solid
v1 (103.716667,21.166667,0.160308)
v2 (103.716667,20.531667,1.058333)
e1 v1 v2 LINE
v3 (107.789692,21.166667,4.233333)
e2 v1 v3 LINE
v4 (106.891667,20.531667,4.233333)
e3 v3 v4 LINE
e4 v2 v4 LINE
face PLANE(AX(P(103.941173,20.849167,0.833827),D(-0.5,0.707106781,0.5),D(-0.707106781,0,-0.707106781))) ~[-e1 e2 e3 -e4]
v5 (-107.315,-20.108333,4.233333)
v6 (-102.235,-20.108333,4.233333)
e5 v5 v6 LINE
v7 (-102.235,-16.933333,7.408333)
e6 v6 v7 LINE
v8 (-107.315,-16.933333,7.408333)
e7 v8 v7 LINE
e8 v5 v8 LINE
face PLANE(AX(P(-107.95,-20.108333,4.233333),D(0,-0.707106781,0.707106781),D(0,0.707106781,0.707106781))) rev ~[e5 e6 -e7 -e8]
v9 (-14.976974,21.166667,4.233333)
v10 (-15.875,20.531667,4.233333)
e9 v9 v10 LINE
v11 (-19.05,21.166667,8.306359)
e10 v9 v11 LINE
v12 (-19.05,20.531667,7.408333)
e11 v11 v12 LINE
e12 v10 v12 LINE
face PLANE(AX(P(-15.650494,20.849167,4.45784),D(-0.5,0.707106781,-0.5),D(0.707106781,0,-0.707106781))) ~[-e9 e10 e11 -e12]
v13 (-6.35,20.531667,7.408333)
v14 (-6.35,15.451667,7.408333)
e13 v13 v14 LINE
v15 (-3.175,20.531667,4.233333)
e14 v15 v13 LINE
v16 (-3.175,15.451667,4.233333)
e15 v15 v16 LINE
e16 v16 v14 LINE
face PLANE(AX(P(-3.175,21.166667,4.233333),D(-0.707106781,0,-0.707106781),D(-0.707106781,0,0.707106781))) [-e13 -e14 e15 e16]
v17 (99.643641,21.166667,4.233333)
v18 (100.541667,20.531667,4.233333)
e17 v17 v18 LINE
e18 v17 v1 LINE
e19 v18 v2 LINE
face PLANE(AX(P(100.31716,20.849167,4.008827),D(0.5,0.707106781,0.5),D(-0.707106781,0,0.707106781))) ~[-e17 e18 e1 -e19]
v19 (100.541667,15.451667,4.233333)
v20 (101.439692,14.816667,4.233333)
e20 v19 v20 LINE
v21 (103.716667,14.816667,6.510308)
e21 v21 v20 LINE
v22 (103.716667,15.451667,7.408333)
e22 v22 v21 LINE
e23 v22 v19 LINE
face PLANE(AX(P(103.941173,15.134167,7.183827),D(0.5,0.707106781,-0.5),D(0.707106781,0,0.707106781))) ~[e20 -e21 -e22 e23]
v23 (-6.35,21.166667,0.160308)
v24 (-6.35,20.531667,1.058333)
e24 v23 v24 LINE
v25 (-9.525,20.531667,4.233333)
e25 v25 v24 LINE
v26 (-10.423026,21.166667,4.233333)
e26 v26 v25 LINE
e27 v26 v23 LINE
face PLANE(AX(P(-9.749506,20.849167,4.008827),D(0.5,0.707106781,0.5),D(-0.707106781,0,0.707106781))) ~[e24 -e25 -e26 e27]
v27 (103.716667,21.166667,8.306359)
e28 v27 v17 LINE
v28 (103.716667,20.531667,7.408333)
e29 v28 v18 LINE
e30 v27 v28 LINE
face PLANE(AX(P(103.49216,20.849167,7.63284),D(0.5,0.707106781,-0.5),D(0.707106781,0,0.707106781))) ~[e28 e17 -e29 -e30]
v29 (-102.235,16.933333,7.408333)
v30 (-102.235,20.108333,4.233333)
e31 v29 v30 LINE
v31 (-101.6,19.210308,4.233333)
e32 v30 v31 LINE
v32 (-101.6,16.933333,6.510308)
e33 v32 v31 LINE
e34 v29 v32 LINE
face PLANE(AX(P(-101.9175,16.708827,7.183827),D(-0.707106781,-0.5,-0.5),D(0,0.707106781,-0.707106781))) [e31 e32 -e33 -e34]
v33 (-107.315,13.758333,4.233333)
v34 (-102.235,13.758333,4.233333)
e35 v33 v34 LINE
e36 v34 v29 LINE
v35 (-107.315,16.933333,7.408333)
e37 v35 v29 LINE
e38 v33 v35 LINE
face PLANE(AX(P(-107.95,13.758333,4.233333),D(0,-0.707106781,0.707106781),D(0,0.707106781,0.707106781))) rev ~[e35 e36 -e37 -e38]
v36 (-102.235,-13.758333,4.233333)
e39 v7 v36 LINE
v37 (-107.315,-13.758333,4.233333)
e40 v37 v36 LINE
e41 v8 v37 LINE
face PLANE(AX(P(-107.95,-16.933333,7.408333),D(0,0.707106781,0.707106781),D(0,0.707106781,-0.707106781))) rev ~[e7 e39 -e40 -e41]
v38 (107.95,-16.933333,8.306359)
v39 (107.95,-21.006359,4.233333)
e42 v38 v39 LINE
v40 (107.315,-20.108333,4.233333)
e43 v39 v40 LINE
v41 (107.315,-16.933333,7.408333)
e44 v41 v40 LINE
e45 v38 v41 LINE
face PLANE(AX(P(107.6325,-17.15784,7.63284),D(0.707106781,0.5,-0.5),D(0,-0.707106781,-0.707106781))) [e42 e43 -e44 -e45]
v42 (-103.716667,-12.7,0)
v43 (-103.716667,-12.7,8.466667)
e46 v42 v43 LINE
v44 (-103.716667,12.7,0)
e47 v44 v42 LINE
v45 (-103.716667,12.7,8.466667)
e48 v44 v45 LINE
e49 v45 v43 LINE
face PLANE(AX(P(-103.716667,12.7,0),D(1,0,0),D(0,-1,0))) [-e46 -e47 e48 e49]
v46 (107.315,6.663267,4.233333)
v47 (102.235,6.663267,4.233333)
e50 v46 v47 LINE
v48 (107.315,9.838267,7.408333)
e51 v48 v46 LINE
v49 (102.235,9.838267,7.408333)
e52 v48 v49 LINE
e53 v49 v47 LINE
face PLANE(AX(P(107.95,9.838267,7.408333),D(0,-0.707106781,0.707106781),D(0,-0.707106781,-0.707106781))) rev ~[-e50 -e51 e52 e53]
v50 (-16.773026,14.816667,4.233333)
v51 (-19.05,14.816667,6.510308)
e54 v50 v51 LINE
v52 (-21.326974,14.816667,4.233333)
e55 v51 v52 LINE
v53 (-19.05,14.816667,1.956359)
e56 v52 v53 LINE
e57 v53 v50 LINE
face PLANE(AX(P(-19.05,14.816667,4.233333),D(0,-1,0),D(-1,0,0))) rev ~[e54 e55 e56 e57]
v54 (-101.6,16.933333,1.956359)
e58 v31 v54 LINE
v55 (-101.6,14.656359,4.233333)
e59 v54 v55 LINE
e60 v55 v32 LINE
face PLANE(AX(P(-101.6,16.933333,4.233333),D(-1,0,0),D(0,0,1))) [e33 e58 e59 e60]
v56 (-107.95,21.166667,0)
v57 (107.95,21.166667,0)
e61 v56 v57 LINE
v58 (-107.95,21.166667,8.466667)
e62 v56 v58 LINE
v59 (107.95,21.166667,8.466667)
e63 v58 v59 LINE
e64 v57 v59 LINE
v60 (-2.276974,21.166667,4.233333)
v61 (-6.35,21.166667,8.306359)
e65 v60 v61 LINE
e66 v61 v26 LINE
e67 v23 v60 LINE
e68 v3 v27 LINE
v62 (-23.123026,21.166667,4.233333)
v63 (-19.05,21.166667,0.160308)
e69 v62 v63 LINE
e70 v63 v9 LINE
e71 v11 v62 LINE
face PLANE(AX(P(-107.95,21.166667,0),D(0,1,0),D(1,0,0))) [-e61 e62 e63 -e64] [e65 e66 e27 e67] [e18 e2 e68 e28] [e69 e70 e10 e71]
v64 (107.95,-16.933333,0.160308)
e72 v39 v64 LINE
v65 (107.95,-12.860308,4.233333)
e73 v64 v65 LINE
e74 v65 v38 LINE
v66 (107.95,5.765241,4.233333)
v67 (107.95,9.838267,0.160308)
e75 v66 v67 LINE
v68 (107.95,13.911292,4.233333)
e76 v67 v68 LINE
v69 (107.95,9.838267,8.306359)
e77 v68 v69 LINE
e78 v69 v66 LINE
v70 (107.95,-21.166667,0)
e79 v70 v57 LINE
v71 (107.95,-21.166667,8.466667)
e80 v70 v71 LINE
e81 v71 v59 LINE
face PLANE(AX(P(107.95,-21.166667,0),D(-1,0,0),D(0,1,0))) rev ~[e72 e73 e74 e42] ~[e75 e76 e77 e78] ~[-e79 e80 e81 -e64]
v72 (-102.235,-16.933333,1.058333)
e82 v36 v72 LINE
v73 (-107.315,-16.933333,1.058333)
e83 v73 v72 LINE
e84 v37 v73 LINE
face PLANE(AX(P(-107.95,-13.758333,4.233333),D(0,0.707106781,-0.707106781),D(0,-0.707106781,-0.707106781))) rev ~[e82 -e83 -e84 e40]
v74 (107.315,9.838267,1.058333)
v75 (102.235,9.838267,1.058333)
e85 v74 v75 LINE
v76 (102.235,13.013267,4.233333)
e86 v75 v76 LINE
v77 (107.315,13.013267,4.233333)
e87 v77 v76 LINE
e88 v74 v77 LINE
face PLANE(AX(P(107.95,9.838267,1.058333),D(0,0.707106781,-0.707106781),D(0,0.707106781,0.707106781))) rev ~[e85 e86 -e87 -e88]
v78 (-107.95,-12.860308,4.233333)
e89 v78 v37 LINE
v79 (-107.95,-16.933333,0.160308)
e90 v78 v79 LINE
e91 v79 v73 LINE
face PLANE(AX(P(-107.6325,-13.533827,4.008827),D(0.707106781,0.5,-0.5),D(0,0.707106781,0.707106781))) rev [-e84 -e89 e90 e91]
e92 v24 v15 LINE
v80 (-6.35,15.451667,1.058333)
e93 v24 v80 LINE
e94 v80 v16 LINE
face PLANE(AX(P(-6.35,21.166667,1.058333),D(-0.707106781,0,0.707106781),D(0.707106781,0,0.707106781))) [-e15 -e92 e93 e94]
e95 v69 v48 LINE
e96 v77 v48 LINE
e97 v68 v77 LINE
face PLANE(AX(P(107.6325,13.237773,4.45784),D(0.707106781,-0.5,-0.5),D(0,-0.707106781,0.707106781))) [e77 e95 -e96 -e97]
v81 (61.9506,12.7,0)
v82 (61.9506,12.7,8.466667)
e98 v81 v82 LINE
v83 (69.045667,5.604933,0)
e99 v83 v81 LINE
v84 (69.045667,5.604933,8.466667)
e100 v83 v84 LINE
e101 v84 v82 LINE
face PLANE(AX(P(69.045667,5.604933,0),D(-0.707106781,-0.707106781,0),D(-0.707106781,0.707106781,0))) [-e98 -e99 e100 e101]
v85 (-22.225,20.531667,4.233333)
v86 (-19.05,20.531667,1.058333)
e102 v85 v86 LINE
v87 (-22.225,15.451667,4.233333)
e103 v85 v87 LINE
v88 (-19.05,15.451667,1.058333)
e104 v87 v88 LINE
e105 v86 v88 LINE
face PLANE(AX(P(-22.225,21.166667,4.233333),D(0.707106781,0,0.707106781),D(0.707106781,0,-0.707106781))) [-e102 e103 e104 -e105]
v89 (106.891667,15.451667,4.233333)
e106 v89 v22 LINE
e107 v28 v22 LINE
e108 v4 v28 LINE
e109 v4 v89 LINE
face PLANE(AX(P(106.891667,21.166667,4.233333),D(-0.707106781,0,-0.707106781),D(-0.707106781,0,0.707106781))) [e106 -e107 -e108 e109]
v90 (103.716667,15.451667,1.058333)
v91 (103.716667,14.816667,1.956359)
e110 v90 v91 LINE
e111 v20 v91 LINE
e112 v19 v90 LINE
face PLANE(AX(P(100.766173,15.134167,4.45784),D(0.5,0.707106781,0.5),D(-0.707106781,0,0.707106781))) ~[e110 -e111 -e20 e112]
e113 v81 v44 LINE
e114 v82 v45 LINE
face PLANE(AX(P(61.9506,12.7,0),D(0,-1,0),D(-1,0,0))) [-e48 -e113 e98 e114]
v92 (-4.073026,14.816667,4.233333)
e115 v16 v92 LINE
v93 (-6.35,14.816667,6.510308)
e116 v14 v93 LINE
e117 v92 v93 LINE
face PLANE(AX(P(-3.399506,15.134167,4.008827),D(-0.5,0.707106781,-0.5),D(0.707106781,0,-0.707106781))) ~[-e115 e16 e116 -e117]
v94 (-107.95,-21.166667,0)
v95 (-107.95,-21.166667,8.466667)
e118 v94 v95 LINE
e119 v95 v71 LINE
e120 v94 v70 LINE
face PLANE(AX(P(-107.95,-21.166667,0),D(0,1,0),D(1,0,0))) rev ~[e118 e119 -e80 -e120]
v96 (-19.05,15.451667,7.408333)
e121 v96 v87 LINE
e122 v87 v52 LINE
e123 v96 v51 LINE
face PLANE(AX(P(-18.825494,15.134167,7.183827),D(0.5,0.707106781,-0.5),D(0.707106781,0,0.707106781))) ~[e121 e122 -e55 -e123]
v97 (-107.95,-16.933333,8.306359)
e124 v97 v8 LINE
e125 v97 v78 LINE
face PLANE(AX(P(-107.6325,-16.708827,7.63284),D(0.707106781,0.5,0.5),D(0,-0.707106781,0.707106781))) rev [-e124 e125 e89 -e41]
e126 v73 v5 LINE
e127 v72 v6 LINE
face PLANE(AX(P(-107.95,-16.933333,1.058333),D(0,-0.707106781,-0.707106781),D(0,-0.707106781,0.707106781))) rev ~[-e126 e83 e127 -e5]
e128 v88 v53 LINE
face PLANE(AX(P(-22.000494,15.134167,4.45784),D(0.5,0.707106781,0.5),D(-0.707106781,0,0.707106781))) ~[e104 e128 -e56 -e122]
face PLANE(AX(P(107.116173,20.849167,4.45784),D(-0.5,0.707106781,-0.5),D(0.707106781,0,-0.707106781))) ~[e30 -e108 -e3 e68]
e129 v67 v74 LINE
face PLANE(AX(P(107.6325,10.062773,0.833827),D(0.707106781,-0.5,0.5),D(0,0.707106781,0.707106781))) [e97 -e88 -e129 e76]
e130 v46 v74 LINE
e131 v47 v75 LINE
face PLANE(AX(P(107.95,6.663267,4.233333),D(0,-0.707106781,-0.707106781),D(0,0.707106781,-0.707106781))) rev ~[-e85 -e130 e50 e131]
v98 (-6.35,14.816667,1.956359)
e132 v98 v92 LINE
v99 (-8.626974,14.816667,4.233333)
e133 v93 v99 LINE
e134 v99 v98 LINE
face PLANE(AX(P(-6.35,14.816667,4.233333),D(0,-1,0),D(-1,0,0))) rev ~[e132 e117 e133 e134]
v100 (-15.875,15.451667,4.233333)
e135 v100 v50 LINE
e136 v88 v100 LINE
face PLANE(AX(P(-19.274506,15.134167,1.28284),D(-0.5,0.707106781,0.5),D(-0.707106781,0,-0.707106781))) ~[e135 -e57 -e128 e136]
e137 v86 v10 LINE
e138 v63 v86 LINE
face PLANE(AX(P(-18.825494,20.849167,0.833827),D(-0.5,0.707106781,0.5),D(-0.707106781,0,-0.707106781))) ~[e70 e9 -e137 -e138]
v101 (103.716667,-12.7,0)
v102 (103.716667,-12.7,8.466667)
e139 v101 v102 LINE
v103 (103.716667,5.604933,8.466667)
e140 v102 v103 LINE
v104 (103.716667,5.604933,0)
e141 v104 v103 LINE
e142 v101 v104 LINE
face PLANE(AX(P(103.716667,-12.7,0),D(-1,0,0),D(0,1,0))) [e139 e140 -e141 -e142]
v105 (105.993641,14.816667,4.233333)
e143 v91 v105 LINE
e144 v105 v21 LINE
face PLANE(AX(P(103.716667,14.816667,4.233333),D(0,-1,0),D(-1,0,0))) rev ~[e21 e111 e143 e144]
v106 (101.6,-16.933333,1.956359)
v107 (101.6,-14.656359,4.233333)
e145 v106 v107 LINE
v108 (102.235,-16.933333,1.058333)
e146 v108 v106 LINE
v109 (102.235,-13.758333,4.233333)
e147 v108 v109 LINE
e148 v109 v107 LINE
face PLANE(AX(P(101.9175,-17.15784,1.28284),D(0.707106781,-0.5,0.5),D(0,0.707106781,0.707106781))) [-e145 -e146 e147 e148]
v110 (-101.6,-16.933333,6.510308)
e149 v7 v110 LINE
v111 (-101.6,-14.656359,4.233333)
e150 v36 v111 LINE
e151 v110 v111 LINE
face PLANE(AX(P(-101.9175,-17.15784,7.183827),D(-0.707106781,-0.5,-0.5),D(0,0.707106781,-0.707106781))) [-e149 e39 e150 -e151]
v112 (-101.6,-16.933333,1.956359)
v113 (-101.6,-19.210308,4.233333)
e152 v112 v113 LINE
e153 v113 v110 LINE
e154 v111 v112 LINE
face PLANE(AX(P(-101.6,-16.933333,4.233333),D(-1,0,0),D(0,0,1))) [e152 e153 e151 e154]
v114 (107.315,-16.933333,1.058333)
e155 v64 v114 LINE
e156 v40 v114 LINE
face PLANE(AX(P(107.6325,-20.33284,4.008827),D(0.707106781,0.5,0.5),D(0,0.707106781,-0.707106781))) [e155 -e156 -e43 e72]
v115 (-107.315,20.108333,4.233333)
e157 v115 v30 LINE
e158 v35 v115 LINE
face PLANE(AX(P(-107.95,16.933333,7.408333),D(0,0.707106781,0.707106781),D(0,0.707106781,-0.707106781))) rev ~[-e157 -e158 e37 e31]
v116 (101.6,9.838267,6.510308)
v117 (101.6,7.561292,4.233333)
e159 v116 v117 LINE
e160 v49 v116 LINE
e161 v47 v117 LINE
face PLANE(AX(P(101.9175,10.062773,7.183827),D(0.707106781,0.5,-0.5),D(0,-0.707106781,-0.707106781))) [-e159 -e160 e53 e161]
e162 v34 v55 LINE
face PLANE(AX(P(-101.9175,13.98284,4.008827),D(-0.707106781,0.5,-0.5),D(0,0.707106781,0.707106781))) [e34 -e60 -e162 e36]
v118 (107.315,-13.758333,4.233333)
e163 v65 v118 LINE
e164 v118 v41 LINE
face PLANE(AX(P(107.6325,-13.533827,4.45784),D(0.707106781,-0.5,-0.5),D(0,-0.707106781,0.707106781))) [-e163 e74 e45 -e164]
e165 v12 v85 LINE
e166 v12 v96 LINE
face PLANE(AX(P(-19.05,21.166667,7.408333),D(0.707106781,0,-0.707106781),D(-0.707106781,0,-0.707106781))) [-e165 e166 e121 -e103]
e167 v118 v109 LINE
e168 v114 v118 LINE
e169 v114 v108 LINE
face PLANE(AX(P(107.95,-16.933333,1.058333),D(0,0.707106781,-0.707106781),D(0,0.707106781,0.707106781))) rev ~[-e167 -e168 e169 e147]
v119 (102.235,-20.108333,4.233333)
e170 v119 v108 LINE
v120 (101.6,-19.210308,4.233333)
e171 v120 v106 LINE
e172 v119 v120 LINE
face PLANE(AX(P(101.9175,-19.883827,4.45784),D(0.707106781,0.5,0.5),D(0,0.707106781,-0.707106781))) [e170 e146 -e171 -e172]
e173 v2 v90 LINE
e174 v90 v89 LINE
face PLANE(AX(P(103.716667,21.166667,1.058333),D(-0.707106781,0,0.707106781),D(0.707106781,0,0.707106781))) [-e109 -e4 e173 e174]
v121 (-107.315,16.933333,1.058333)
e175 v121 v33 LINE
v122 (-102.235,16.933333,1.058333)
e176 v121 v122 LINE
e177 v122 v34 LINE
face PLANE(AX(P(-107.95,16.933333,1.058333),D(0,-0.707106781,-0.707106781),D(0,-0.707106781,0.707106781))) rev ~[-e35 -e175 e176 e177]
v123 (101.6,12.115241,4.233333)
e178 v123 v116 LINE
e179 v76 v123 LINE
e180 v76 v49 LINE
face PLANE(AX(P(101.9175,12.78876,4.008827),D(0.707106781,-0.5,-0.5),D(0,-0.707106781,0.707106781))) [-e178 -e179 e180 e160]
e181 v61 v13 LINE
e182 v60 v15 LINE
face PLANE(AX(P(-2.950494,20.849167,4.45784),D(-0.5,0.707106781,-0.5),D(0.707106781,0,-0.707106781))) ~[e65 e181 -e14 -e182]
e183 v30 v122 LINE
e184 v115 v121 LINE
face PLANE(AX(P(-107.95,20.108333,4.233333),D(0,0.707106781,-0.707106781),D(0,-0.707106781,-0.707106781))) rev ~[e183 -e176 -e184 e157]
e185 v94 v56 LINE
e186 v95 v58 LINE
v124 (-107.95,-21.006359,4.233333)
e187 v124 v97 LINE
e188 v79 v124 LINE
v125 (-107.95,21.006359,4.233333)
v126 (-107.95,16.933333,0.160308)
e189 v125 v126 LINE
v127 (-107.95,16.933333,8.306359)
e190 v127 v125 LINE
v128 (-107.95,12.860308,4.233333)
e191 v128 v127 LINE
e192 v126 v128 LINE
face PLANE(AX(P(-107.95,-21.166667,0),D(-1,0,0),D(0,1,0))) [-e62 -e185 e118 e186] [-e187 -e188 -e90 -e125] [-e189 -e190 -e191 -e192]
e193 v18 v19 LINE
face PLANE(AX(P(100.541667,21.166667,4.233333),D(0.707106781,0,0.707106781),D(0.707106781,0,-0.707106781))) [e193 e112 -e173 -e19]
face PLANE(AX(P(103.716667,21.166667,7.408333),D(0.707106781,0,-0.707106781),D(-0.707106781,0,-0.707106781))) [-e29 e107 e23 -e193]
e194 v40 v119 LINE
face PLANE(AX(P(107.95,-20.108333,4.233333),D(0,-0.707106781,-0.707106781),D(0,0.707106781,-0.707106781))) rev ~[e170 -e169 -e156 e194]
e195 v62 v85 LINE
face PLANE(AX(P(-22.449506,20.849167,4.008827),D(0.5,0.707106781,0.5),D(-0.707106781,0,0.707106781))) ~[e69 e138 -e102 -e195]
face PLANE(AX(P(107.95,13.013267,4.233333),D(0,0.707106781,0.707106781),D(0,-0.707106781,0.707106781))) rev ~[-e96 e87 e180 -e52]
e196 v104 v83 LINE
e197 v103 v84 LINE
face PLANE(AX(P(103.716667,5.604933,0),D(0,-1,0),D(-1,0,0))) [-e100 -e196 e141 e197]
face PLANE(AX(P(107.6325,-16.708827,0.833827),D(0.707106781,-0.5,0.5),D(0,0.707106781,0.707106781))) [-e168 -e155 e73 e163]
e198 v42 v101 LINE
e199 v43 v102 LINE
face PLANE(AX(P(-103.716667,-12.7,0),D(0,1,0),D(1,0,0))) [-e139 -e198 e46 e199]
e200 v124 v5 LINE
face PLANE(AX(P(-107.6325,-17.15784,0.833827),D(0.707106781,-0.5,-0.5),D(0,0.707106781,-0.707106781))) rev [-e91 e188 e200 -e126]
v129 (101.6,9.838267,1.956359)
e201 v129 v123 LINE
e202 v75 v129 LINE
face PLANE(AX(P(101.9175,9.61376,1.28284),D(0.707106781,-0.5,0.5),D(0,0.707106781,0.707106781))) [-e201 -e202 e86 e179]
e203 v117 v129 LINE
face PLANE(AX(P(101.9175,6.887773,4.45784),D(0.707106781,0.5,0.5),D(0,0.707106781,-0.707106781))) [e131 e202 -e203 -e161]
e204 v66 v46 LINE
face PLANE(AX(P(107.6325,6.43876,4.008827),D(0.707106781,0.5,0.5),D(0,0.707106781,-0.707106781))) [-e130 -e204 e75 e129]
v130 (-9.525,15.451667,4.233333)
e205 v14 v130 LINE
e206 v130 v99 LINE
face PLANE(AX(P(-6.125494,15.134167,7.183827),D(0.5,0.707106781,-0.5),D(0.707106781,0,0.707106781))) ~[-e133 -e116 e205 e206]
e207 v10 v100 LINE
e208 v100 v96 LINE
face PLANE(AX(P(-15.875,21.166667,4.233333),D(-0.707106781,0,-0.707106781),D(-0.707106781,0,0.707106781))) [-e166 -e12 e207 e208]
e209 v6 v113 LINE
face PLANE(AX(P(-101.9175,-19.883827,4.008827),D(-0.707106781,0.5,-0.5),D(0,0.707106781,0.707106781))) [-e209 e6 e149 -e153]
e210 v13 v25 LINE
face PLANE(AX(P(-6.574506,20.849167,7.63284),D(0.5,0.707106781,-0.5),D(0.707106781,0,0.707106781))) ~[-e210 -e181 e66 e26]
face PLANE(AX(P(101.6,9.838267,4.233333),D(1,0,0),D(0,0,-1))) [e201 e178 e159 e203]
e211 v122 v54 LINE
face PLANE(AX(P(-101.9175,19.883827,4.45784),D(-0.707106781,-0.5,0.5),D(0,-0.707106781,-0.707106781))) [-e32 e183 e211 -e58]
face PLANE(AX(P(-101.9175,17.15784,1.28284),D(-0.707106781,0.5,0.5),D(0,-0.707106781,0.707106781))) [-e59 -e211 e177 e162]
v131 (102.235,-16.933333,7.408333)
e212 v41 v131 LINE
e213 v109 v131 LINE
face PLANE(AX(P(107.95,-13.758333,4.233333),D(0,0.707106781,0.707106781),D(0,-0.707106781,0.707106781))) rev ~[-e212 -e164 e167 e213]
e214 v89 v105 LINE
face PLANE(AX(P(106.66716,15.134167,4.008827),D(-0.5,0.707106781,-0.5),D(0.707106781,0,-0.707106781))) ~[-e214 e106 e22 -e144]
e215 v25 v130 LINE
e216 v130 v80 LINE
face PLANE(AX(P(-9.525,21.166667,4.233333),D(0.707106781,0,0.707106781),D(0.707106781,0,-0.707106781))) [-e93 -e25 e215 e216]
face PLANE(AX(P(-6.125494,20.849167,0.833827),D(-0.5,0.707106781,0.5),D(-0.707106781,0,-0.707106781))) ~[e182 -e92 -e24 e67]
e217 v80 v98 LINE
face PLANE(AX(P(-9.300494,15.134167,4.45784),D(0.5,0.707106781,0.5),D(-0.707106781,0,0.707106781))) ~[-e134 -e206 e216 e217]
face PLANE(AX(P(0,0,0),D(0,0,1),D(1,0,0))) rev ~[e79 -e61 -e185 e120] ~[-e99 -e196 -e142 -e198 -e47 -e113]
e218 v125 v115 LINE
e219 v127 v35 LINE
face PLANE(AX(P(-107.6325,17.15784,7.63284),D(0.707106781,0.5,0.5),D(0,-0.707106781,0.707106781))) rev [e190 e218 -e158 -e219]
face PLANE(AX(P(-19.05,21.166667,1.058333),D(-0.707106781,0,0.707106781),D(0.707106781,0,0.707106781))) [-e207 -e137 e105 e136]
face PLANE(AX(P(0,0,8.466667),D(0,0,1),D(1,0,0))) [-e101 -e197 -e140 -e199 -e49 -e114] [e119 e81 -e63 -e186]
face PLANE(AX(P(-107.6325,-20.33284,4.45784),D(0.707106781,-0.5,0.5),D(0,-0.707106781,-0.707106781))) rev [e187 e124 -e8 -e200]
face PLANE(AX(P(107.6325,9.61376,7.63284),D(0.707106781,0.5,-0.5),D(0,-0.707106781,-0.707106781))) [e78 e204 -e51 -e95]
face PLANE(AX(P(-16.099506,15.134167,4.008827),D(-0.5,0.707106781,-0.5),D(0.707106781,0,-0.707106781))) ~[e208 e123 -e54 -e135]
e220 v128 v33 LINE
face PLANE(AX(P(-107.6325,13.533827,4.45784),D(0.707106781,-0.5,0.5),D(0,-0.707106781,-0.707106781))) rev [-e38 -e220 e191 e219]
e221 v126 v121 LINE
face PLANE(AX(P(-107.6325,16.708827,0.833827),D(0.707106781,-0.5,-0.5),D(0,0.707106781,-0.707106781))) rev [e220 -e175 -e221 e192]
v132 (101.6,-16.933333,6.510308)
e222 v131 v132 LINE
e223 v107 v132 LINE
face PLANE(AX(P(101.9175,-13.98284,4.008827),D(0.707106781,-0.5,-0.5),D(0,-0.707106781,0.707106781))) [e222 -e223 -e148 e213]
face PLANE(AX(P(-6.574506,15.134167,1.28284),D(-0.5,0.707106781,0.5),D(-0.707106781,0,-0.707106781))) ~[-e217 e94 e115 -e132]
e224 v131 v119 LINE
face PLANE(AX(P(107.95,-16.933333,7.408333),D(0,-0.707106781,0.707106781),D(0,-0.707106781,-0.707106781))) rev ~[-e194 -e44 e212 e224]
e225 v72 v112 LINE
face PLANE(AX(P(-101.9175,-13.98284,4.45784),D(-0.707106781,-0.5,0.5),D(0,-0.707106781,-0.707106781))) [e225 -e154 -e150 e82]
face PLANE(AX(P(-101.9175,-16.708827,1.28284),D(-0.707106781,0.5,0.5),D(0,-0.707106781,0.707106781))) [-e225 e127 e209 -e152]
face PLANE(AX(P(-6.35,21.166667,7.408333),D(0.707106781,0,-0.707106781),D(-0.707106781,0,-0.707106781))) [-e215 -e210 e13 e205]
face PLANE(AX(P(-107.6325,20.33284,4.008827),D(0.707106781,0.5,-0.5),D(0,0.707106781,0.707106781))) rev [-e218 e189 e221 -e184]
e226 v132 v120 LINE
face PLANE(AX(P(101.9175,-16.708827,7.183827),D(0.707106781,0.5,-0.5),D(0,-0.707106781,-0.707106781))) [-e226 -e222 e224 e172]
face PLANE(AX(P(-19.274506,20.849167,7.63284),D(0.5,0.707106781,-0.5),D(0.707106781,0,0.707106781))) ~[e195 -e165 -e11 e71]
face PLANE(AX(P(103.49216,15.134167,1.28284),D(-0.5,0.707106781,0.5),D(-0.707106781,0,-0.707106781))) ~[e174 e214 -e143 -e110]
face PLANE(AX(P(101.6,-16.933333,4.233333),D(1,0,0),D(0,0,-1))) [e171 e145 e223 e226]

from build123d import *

# Parameters (mm, degrees)
SKETCH1_W           = 215.9
SKETCH1_H           = 42.333333334
BOSS_EXTRUDE1_DEPTH = 8.466666667
REAR_PIN_DEPTH      = 6.35
FRONT_PIN_DEPTH     = 6.35
TOP_PINS_DEPTH      = 6.35
PIN_CHAMFER_SIZE    = 0.635


with BuildPart() as part:
    # Sketch1 → Boss-Extrude1 (new body)
    with BuildSketch(Plane.XY):
        Rectangle(SKETCH1_W, SKETCH1_H)
        Polygon((-103.716666667, -12.7), (103.716666667, -12.7), (103.716666667, 5.604933333), (69.045666667, 5.604933333), (61.9506, 12.7), (-103.716666667, 12.7), align=None, mode=Mode.SUBTRACT)
    extrude(amount=BOSS_EXTRUDE1_DEPTH)

    # Sketch3 → rear pin (cut)
    with BuildSketch(Plane(origin=(-107.95, 0, 91.206646131), x_dir=(0, 0, -1), z_dir=(1, 0, 0))):
        Polygon((83.798312798, 16.933333333), (86.973312798, 20.108333333), (90.148312798, 16.933333333), (86.973312798, 13.758333333), align=None)
        Polygon((86.973312798, -20.108333333), (83.798312798, -16.933333333), (86.973312798, -13.758333333), (90.148312798, -16.933333333), align=None)
    extrude(amount=REAR_PIN_DEPTH, mode=Mode.SUBTRACT)

    # Sketch4 → front pin (cut)
    with BuildSketch(Plane(origin=(107.95, 0, 0), x_dir=(0, 0, -1), z_dir=(1, 0, 0))):
        Polygon((-1.058333333, 9.838266667), (-4.233333333, 13.013266667), (-7.408333333, 9.838266667), (-4.233333333, 6.663266667), align=None)
        Polygon((-1.058333333, -16.933333333), (-4.233333333, -13.758333333), (-7.408333333, -16.933333333), (-4.233333333, -20.108333333), align=None)
    extrude(amount=-FRONT_PIN_DEPTH, mode=Mode.SUBTRACT)

    # Sketch5 → top pins (cut)
    with BuildSketch(Plane(origin=(0, 21.166666667, 0), x_dir=(1, 0, 0), z_dir=(0, 1, 0))):
        Polygon((106.891666667, -4.233333333), (103.716666667, -7.408333333), (100.541666667, -4.233333333), (103.716666667, -1.058333333), align=None)
        Polygon((-3.175000085, -4.233333333), (-6.350000085, -7.408333333), (-9.525000085, -4.233333333), (-6.350000085, -1.058333333), align=None)
        Polygon((-15.875000085, -4.233333333), (-19.050000085, -7.408333333), (-22.225000085, -4.233333333), (-19.050000085, -1.058333333), align=None)
    extrude(amount=-TOP_PINS_DEPTH, mode=Mode.SUBTRACT)

    # pin chamfer
    pin_chamfer_edges = [part.edges().sort_by_distance(p)[0] for p in [
        (-4.762500085, 14.816666667, 2.645833333),
        (-4.762500085, 14.816666667, 5.820833333),
        (-7.937500085, 14.816666667, 5.820833333),
        (-7.937500085, 14.816666667, 2.645833333),
        (-4.762500085, 21.166666667, 2.645833333),
        (-7.937500085, 21.166666667, 2.645833333),
        (-7.937500085, 21.166666667, 5.820833333),
        (-4.762500085, 21.166666667, 5.820833333),
        (-17.462500085, 14.816666667, 2.645833333),
        (-17.462500085, 14.816666667, 5.820833333),
        (-20.637500085, 14.816666667, 5.820833333),
        (-20.637500085, 14.816666667, 2.645833333),
        (-17.462500085, 21.166666667, 2.645833333),
        (-20.637500085, 21.166666667, 2.645833333),
        (-20.637500085, 21.166666667, 5.820833333),
        (-17.462500085, 21.166666667, 5.820833333),
        (-107.95, 15.345833333, 5.820833333),
        (-107.95, 15.345833333, 2.645833333),
        (-107.95, 18.520833333, 2.645833333),
        (-107.95, 18.520833333, 5.820833333),
        (-101.6, 15.345833333, 5.820833333),
        (-101.6, 15.345833333, 2.645833333),
        (-101.6, 18.520833333, 2.645833333),
        (-101.6, 18.520833333, 5.820833333),
        (-107.95, -18.520833333, 2.645833333),
        (-107.95, -15.345833333, 2.645833333),
        (-107.95, -15.345833333, 5.820833333),
        (-107.95, -18.520833333, 5.820833333),
        (-101.6, -18.520833333, 2.645833333),
        (-101.6, -15.345833333, 2.645833333),
        (-101.6, -15.345833333, 5.820833333),
        (-101.6, -18.520833333, 5.820833333),
        (101.6, 8.250766667, 2.645833333),
        (101.6, 8.250766667, 5.820833333),
        (101.6, 11.425766667, 5.820833333),
        (101.6, 11.425766667, 2.645833333),
        (107.95, 8.250766667, 2.645833333),
        (107.95, 11.425766667, 2.645833333),
        (107.95, 11.425766667, 5.820833333),
        (107.95, 8.250766667, 5.820833333),
        (101.6, -18.520833333, 2.645833333),
        (101.6, -18.520833333, 5.820833333),
        (101.6, -15.345833333, 5.820833333),
        (101.6, -15.345833333, 2.645833333),
        (107.95, -18.520833333, 2.645833333),
        (107.95, -15.345833333, 2.645833333),
        (107.95, -15.345833333, 5.820833333),
        (107.95, -18.520833333, 5.820833333),
        (105.304166667, 14.816666667, 2.645833333),
        (105.304166667, 14.816666667, 5.820833333),
        (102.129166667, 14.816666667, 5.820833333),
        (102.129166667, 14.816666667, 2.645833333),
        (105.304166667, 21.166666667, 2.645833333),
        (102.129166667, 21.166666667, 2.645833333),
        (102.129166667, 21.166666667, 5.820833333),
        (105.304166667, 21.166666667, 5.820833333),
    ]]
    chamfer(pin_chamfer_edges, length=PIN_CHAMFER_SIZE)


solid = part.part
